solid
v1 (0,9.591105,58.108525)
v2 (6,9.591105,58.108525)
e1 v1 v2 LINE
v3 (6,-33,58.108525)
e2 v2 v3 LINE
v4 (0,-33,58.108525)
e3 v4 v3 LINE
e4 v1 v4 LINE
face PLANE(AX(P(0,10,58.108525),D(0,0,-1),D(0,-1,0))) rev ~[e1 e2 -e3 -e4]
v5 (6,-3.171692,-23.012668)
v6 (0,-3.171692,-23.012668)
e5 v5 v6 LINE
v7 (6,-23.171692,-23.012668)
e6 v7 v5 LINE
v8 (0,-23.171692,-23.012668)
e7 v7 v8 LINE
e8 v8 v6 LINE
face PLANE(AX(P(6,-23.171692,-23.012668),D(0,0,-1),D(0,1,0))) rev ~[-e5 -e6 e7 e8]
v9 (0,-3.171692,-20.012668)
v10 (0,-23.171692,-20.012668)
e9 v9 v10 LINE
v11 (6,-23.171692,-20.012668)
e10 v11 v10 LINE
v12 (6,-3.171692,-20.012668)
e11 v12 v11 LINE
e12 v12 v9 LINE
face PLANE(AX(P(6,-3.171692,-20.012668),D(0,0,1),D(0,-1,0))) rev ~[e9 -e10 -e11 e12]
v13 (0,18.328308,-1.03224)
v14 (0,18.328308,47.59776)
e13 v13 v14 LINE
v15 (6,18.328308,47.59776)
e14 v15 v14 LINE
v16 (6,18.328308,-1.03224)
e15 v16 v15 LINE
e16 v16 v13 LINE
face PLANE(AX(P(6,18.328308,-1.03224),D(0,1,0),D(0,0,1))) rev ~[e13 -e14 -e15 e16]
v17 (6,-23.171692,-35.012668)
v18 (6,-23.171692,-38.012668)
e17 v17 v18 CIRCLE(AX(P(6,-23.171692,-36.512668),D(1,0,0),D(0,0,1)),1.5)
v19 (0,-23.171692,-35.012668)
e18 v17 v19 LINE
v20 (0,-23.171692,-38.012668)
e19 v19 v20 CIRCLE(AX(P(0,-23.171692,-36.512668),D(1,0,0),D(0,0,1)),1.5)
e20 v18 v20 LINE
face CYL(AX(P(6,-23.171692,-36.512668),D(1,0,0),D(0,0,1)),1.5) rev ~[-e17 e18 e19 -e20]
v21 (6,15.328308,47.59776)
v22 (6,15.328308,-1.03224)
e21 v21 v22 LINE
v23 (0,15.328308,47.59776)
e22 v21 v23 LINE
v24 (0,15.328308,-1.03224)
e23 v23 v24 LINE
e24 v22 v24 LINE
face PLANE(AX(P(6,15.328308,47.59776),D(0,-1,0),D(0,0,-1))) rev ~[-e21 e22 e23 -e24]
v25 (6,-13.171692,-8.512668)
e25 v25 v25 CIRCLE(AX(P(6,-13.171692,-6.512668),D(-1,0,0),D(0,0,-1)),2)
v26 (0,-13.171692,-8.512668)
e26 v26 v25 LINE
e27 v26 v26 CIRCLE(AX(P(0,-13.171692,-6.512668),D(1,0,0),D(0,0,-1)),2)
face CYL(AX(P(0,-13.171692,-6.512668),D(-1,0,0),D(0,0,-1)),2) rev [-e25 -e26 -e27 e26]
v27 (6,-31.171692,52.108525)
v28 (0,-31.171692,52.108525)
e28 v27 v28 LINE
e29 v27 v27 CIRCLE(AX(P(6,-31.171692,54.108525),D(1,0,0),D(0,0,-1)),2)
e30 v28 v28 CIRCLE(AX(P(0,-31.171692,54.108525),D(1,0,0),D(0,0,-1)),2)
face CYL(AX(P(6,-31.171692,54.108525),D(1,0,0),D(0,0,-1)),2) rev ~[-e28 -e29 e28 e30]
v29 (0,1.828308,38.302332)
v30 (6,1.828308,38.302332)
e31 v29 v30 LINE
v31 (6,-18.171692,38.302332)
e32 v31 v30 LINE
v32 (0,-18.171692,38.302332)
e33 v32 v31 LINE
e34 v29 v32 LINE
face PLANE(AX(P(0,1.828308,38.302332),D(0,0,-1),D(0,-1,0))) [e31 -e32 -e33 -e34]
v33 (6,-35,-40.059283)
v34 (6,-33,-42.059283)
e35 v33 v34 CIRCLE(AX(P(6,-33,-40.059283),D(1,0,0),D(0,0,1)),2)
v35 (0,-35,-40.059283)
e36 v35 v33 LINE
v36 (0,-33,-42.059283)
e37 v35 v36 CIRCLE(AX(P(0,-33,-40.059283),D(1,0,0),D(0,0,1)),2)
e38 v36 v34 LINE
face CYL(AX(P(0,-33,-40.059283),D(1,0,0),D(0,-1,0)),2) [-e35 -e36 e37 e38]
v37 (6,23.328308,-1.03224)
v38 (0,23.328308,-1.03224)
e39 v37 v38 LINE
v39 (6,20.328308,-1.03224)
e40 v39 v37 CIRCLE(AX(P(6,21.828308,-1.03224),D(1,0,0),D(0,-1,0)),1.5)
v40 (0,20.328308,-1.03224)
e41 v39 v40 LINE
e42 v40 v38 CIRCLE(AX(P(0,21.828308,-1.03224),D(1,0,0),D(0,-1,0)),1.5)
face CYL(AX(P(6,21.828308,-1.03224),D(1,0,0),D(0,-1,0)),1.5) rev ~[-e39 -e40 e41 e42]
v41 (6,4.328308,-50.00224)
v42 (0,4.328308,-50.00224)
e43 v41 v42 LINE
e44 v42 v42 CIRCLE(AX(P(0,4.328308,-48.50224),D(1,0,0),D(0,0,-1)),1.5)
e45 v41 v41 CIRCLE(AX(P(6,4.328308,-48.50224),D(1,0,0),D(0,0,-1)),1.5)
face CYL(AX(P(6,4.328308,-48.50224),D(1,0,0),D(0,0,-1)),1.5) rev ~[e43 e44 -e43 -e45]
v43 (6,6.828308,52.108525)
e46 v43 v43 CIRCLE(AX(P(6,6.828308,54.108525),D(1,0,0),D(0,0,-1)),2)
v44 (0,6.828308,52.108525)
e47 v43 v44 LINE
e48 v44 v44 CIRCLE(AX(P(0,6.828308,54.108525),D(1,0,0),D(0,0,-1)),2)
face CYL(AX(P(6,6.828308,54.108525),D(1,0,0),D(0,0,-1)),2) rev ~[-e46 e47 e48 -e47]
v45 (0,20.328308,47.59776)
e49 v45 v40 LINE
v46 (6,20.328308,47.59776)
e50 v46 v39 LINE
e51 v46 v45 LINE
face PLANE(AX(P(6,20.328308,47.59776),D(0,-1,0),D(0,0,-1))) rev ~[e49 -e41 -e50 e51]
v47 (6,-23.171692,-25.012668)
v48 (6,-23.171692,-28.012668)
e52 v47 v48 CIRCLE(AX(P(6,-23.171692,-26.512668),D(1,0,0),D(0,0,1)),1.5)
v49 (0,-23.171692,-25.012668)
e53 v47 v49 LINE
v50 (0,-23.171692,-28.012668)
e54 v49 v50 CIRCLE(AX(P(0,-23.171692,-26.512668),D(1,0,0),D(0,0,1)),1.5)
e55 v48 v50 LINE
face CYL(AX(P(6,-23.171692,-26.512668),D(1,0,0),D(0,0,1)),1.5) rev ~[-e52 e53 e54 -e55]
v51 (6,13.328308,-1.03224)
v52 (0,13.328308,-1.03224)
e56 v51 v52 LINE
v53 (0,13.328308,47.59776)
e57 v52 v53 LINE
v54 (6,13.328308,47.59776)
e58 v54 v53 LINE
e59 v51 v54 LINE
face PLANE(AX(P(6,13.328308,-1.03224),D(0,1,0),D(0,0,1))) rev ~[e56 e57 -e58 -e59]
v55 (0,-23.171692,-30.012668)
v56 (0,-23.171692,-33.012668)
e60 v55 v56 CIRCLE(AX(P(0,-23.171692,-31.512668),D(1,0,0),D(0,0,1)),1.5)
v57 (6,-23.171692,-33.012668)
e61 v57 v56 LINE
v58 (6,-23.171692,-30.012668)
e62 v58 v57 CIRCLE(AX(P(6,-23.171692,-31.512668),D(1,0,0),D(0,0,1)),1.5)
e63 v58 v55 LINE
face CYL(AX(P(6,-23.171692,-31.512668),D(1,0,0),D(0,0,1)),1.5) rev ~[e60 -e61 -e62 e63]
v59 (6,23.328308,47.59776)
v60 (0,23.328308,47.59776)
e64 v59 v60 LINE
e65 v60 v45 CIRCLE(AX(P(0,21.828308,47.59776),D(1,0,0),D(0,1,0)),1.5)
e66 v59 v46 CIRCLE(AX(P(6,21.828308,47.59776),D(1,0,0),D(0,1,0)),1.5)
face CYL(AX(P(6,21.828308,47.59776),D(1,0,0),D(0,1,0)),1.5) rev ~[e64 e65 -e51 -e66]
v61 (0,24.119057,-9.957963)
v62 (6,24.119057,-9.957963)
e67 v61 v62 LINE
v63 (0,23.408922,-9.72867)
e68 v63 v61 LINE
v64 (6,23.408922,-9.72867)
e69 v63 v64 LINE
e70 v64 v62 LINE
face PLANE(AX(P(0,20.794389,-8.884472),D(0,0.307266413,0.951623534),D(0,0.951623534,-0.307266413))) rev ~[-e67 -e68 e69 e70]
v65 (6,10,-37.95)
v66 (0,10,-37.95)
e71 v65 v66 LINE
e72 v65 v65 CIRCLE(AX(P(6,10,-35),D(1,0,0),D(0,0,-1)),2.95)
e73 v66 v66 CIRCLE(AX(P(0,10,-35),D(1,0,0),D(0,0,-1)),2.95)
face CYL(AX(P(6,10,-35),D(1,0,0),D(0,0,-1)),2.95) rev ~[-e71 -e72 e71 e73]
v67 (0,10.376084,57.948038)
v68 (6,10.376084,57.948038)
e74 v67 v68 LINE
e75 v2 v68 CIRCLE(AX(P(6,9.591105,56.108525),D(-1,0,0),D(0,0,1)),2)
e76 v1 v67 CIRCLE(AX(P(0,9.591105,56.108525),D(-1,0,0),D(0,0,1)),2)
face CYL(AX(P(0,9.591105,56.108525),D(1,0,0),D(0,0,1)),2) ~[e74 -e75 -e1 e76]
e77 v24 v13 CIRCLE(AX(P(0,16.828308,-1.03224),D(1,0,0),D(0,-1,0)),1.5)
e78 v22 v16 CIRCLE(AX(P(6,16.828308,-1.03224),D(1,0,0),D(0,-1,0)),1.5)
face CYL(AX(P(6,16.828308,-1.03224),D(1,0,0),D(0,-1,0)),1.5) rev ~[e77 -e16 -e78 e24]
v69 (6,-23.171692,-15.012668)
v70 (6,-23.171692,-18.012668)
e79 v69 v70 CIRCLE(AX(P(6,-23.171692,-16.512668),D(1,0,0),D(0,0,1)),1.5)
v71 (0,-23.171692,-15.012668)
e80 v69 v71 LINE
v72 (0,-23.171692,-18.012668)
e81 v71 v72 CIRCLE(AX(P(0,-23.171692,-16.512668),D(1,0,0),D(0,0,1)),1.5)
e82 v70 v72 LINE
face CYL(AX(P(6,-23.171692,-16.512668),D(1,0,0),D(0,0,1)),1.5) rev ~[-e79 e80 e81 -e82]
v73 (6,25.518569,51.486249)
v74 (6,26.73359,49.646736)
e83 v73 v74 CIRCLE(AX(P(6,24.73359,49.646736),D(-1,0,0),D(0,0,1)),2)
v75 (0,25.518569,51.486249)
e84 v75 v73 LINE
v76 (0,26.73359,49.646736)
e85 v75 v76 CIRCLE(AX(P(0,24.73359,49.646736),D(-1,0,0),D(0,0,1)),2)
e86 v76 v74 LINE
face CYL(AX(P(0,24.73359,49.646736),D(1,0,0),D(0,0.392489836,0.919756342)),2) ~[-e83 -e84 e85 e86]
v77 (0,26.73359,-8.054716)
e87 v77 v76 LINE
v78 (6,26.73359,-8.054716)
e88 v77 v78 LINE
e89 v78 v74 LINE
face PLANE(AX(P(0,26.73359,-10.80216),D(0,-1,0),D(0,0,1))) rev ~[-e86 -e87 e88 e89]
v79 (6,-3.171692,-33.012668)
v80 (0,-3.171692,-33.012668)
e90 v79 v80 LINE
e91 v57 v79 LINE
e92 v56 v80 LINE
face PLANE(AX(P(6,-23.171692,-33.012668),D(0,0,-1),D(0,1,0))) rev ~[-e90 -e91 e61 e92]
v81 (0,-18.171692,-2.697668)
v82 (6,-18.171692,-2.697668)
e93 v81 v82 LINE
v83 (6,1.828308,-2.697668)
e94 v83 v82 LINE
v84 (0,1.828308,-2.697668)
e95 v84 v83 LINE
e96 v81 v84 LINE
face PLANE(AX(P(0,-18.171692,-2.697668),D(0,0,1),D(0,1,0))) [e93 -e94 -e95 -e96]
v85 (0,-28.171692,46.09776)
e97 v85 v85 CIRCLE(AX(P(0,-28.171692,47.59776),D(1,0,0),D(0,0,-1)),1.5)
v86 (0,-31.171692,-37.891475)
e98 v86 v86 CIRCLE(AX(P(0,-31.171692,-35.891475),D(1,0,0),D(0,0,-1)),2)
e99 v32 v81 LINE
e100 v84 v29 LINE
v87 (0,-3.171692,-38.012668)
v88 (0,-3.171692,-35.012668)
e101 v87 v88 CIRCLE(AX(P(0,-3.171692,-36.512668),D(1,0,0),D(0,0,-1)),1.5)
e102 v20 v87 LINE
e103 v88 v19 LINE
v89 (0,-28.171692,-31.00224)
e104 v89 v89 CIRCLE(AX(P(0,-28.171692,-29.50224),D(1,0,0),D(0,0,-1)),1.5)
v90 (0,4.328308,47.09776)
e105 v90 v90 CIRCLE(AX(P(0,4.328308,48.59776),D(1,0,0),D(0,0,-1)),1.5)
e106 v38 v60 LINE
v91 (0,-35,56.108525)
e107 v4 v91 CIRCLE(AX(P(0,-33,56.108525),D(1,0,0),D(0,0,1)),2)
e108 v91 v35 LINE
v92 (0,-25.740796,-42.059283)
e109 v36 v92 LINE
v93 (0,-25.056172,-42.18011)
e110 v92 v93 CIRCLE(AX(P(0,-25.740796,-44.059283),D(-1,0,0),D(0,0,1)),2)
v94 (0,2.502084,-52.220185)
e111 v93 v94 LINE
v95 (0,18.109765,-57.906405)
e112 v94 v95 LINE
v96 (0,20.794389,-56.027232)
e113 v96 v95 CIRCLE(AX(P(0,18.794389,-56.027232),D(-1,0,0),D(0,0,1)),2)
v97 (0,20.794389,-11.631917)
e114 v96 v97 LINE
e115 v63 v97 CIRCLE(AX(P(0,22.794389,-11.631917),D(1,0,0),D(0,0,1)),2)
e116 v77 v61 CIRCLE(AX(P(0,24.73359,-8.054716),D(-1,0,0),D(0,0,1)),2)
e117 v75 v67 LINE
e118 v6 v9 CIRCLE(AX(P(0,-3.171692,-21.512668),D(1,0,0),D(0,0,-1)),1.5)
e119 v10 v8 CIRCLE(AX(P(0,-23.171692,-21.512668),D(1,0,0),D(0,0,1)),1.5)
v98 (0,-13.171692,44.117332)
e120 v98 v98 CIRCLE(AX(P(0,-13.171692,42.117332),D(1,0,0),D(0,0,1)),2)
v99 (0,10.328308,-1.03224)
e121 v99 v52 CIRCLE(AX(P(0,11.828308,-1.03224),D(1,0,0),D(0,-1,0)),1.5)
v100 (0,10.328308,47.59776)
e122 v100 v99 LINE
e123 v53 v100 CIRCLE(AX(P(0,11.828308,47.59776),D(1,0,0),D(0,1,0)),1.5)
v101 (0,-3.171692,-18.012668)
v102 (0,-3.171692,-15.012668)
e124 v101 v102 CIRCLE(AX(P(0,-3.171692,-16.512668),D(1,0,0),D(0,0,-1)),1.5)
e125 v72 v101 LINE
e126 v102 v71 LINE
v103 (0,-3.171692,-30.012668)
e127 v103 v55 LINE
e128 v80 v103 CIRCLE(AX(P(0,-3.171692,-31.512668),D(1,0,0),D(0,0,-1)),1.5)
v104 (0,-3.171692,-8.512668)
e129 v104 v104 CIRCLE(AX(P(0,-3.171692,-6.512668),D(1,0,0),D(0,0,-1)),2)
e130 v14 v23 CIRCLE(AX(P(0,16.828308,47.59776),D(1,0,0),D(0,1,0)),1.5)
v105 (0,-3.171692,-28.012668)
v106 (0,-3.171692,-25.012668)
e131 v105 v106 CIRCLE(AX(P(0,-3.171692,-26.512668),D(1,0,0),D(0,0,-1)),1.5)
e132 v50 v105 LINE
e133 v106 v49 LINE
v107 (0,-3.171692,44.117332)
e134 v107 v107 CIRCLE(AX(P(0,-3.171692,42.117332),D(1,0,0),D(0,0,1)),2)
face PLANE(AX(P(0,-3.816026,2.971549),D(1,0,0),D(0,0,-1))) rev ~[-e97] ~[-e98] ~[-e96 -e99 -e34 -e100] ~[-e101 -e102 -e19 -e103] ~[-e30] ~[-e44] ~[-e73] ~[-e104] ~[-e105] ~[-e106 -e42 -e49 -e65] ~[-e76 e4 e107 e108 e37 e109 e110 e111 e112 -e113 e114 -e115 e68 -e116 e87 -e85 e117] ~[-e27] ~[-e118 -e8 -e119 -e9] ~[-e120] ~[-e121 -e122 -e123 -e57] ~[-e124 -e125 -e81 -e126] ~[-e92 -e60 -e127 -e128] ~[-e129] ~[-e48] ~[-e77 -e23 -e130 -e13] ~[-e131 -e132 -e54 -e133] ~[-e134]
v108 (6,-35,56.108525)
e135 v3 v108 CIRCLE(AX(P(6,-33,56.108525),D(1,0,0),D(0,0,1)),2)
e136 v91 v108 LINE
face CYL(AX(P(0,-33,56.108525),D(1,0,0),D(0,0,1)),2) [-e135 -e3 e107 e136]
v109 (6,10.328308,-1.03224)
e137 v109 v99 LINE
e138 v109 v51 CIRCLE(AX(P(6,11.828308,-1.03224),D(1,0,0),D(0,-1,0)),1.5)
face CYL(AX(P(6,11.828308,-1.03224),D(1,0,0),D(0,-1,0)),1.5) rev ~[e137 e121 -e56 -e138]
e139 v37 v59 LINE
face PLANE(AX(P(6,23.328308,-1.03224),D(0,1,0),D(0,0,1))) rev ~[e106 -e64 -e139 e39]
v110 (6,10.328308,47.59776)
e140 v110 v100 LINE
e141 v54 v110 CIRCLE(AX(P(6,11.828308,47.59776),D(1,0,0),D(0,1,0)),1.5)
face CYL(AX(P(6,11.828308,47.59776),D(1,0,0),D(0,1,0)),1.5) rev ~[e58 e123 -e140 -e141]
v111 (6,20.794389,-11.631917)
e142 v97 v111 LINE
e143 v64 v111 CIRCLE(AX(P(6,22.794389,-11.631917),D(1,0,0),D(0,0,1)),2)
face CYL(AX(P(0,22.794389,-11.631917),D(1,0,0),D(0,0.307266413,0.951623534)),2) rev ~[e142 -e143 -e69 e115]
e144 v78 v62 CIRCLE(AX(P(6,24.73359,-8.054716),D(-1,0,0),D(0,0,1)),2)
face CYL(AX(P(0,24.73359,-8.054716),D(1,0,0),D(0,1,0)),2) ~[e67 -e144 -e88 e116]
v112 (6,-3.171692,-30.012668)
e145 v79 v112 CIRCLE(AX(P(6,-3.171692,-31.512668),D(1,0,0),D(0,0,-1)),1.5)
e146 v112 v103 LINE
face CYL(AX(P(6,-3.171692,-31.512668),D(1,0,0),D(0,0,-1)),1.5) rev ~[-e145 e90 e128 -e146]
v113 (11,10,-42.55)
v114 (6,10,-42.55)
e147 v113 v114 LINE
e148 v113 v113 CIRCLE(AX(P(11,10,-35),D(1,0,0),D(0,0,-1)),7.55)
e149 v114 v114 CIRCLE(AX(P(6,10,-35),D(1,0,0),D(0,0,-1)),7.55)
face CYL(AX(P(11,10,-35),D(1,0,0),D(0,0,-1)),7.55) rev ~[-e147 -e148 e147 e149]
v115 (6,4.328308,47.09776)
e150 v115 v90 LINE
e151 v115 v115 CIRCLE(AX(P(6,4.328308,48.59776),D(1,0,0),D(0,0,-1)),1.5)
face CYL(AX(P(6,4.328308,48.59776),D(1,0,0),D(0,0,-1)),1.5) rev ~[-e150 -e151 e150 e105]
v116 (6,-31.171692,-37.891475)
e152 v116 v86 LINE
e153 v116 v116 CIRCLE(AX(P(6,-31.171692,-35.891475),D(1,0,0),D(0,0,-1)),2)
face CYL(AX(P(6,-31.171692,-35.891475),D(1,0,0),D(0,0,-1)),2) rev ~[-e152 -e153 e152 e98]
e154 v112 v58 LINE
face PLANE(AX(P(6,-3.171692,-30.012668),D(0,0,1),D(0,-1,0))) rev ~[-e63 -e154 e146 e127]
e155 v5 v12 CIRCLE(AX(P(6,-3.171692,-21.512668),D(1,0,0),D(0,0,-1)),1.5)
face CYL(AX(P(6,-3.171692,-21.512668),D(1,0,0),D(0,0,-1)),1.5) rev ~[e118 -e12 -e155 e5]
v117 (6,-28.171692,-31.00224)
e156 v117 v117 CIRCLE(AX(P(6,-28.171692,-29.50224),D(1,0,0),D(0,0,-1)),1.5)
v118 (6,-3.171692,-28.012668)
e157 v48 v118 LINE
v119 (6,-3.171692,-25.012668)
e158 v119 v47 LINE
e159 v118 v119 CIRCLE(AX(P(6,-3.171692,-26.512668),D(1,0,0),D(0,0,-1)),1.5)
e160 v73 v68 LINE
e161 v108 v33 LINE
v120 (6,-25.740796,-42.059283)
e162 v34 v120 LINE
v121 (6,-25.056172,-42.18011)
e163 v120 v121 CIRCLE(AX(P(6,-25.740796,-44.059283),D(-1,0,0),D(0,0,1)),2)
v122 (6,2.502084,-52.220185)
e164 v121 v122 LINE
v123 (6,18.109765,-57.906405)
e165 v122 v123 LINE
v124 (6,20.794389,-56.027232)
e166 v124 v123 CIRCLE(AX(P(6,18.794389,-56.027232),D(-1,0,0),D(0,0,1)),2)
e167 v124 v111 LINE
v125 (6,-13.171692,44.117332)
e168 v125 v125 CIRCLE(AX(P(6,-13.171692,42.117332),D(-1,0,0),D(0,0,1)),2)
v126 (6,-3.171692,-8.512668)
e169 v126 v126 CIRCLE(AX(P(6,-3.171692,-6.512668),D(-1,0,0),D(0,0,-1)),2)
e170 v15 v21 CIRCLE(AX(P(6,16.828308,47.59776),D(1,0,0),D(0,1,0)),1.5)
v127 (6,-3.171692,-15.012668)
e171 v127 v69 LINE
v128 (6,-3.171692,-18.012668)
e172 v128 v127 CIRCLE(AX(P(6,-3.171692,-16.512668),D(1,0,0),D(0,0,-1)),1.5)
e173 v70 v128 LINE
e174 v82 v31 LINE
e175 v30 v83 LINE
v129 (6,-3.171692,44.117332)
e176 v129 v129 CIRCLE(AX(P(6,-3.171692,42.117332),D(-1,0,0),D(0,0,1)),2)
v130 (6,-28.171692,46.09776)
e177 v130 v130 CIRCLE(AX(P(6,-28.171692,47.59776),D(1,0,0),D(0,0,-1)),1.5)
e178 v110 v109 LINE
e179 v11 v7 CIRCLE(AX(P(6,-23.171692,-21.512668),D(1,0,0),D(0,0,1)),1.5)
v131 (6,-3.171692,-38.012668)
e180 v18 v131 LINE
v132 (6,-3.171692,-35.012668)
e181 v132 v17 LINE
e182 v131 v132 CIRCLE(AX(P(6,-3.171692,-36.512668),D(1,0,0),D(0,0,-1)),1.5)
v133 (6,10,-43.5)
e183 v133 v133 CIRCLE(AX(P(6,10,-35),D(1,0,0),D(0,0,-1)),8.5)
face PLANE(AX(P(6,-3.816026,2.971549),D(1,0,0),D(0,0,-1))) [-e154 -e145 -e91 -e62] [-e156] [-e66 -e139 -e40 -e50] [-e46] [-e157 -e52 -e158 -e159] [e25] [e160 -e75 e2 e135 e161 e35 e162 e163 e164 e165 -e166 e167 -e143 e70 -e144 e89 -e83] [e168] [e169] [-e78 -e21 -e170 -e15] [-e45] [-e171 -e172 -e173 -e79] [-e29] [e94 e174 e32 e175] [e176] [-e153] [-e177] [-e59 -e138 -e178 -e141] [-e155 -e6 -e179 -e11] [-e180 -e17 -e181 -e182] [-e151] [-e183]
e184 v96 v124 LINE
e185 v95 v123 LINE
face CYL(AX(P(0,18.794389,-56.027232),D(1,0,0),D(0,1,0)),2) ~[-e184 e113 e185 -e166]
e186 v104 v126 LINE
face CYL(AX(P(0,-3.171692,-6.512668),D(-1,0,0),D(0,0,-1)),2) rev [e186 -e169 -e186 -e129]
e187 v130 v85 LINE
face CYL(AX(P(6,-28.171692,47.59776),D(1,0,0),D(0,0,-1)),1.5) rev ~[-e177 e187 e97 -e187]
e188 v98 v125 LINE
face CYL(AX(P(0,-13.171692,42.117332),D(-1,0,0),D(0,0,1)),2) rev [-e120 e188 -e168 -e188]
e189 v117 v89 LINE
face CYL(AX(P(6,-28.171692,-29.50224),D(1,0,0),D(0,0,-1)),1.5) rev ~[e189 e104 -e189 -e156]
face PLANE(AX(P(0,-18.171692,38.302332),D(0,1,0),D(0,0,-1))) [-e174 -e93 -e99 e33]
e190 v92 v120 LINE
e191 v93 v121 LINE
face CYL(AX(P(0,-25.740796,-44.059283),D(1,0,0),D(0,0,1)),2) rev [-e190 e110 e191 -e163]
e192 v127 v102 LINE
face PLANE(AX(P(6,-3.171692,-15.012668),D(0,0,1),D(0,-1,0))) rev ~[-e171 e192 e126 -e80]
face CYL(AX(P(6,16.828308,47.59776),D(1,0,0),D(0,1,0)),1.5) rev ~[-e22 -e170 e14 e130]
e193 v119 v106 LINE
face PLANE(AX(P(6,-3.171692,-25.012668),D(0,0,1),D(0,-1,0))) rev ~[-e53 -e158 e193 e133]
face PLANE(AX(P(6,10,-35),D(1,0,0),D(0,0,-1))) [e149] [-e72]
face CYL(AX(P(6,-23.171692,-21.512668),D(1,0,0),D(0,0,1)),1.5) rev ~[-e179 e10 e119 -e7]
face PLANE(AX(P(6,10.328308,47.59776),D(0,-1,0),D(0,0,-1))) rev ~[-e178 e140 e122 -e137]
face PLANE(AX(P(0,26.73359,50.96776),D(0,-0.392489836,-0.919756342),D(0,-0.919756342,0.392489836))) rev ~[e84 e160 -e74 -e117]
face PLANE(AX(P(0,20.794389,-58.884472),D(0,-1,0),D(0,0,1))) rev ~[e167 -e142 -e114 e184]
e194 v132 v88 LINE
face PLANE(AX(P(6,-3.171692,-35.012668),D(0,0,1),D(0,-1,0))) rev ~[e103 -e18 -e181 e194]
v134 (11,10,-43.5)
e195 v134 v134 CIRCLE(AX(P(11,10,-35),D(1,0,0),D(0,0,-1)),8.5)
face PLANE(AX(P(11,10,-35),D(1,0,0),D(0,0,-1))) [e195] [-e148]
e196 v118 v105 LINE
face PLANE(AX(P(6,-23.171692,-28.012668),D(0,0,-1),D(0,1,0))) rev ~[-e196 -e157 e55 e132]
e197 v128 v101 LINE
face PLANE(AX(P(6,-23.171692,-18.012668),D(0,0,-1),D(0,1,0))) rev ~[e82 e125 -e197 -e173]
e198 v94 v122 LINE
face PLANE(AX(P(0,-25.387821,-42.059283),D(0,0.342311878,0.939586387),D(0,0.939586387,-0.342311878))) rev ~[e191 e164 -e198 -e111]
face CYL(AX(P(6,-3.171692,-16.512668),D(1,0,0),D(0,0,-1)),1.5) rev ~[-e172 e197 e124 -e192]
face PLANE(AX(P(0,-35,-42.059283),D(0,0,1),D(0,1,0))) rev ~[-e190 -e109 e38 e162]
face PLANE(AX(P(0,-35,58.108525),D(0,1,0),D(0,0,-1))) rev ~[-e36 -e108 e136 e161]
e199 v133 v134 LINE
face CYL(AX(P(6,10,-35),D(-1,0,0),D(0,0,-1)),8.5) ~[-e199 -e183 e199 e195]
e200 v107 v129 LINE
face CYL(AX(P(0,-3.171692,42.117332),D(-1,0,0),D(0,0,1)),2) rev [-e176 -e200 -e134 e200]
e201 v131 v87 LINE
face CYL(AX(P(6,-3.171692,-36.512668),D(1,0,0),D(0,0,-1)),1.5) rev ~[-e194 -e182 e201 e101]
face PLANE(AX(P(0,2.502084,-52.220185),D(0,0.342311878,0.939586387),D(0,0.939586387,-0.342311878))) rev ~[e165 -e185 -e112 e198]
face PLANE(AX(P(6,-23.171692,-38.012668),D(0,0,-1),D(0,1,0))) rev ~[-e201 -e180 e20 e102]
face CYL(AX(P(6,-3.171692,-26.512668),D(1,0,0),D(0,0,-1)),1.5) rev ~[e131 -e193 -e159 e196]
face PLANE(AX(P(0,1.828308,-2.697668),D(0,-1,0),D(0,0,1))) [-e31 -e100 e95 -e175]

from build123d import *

# Parameters (mm, degrees)
EXTRUDE_1_DEPTH     = 6
SKETCH_2_R          = 2
CUT_EXTRUDE_1_DEPTH = 10
SKETCH_4_R          = 1.5
CUT_EXTRUDE_2_DEPTH = 6
SKETCH_7_R          = 2
SKETCH_7_R_2        = 1.5
CUT_EXTRUDE_3_DEPTH = 6
SKETCH_5_R          = 8.5
EXTRUDE_4_DEPTH     = 5
SKETCH_14_R         = 7.55
CUT_EXTRUDE_8_DEPTH = 5
SKETCH_15_R         = 2.95
CUT_EXTRUDE_9_DEPTH = 6
FILLET_1_R          = 2


with BuildPart() as part:
    # 草图1 → 凸台-拉伸1 (new body)
    with BuildSketch(Plane(origin=(0, 0, 0), x_dir=(0, 0, -1), z_dir=(1, 0, 0))):
        Polygon((-58.108525398, 10), (-58.108525398, -35), (42.059282617, -35), (42.059282617, -30.677521513), (42.059282617, -25.387821403), (52.220185328, 2.502083897), (58.88447221, 20.794388757), (53.88447221, 20.794388757), (8.88447221, 20.794388757), (10.802160114, 26.733589605), (-8.108525398, 26.733589605), (-50.96776046, 26.733589605), align=None)
    extrude(amount=EXTRUDE_1_DEPTH)

    # 草图2 → 切除-拉伸1 (cut)
    with BuildSketch(Plane(origin=(0, 0, 0), x_dir=(0, 0, -1), z_dir=(1, 0, 0))):
        with Locations((6.512667985, -3.171691559)):
            Circle(SKETCH_2_R)
        with Locations((6.512667985, -13.171691559)):
            Circle(SKETCH_2_R)
        with Locations(Location((-42.117332015, -13.171691559, 0), (0, 0, 180))):
            Circle(SKETCH_2_R)
        with Locations(Location((-42.117332015, -3.171691559, 0), (0, 0, 180))):
            Circle(SKETCH_2_R)
        Polygon((-17.802332015, 1.828308441), (-38.302332015, 1.828308441), (-38.302332015, -18.171691559), (-17.802332015, -18.171691559), (2.697667985, -18.171691559), (2.697667985, 1.828308441), align=None)
    extrude(amount=CUT_EXTRUDE_1_DEPTH, mode=Mode.SUBTRACT)

    # 草图4 → 切除-拉伸2 (cut)
    with BuildSketch(Plane(origin=(6, 0, 0), x_dir=(0, 0, -1), z_dir=(1, 0, 0))):
        with Locations((-48.59776046, 4.328308441)):
            Circle(SKETCH_4_R)
        with Locations((48.50223954, 4.328308441)):
            Circle(SKETCH_4_R)
    extrude(amount=-CUT_EXTRUDE_2_DEPTH, mode=Mode.SUBTRACT)

    # 草图7 → 切除-拉伸3 (cut)
    with BuildSketch(Plane(origin=(6, 0, 0), x_dir=(0, 0, -1), z_dir=(1, 0, 0))):
        with Locations((-54.108525398, 6.828308441)):
            Circle(SKETCH_7_R)
        with Locations((35.891474602, -31.171691559)):
            Circle(SKETCH_7_R)
        with Locations((-54.108525398, -31.171691559)):
            Circle(SKETCH_7_R)
        with BuildLine():
            ThreePointArc((18.012667985, -3.171691559), (16.512667985, -1.671691559), (15.012667985, -3.171691559))
            Line((15.012667985, -3.171691559), (15.012667985, -23.171691559))
            ThreePointArc((15.012667985, -23.171691559), (16.512667985, -24.671691559), (18.012667985, -23.171691559))
            Line((18.012667985, -23.171691559), (18.012667985, -3.171691559))
        make_face()
        with BuildLine():
            Line((1.03223954, 18.328308441), (-47.59776046, 18.328308441))
            ThreePointArc((-47.59776046, 18.328308441), (-49.09776046, 16.828308441), (-47.59776046, 15.328308441))
            Line((-47.59776046, 15.328308441), (1.03223954, 15.328308441))
            ThreePointArc((1.03223954, 15.328308441), (2.53223954, 16.828308441), (1.03223954, 18.328308441))
        make_face()
        with BuildLine():
            Line((1.03223954, 23.328308441), (-47.59776046, 23.328308441))
            ThreePointArc((-47.59776046, 23.328308441), (-49.09776046, 21.828308441), (-47.59776046, 20.328308441))
            Line((-47.59776046, 20.328308441), (1.03223954, 20.328308441))
            ThreePointArc((1.03223954, 20.328308441), (2.53223954, 21.828308441), (1.03223954, 23.328308441))
        make_face()
        with BuildLine():
            Line((1.03223954, 13.328308441), (-47.59776046, 13.328308441))
            ThreePointArc((-47.59776046, 13.328308441), (-49.09776046, 11.828308441), (-47.59776046, 10.328308441))
            Line((-47.59776046, 10.328308441), (1.03223954, 10.328308441))
            ThreePointArc((1.03223954, 10.328308441), (2.53223954, 11.828308441), (1.03223954, 13.328308441))
        make_face()
        with BuildLine():
            ThreePointArc((38.012667985, -3.171691559), (36.512667985, -1.671691559), (35.012667985, -3.171691559))
            Line((35.012667985, -3.171691559), (35.012667985, -23.171691559))
            ThreePointArc((35.012667985, -23.171691559), (36.512667985, -24.671691559), (38.012667985, -23.171691559))
            Line((38.012667985, -23.171691559), (38.012667985, -3.171691559))
        make_face()
        with BuildLine():
            ThreePointArc((23.012667985, -3.171691559), (21.512667985, -1.671691559), (20.012667985, -3.171691559))
            Line((20.012667985, -3.171691559), (20.012667985, -23.171691559))
            ThreePointArc((20.012667985, -23.171691559), (21.512667985, -24.671691559), (23.012667985, -23.171691559))
            Line((23.012667985, -23.171691559), (23.012667985, -3.171691559))
        make_face()
        with BuildLine():
            ThreePointArc((28.012667985, -3.171691559), (26.512667985, -1.671691559), (25.012667985, -3.171691559))
            Line((25.012667985, -3.171691559), (25.012667985, -23.171691559))
            ThreePointArc((25.012667985, -23.171691559), (26.512667985, -24.671691559), (28.012667985, -23.171691559))
            Line((28.012667985, -23.171691559), (28.012667985, -3.171691559))
        make_face()
        with BuildLine():
            ThreePointArc((33.012667985, -3.171691559), (31.512667985, -1.671691559), (30.012667985, -3.171691559))
            Line((30.012667985, -3.171691559), (30.012667985, -23.171691559))
            ThreePointArc((30.012667985, -23.171691559), (31.512667985, -24.671691559), (33.012667985, -23.171691559))
            Line((33.012667985, -23.171691559), (33.012667985, -3.171691559))
        make_face()
        with Locations((-47.59776046, -28.171691559)):
            Circle(SKETCH_7_R_2)
        with Locations((29.50223954, -28.171691559)):
            Circle(SKETCH_7_R_2)
    extrude(amount=-CUT_EXTRUDE_3_DEPTH, mode=Mode.SUBTRACT)

    # 草图5 → 凸台-拉伸4 (add)
    with BuildSketch(Plane(origin=(6, 0, 0), x_dir=(0, 0, -1), z_dir=(1, 0, 0))):
        with Locations((35, 10)):
            Circle(SKETCH_5_R)
    extrude(amount=EXTRUDE_4_DEPTH)

    # 草图14 → 切除-拉伸8 (cut)
    with BuildSketch(Plane(origin=(11, 0, 0), x_dir=(0, 0, -1), z_dir=(1, 0, 0))):
        with Locations((35, 10)):
            Circle(SKETCH_14_R)
    extrude(amount=-CUT_EXTRUDE_8_DEPTH, mode=Mode.SUBTRACT)

    # 草图15 → 切除-拉伸9 (cut)
    with BuildSketch(Plane(origin=(6, 0, 0), x_dir=(0, 0, -1), z_dir=(1, 0, 0))):
        with Locations((35, 10)):
            Circle(SKETCH_15_R)
    extrude(amount=-CUT_EXTRUDE_9_DEPTH, mode=Mode.SUBTRACT)

    # 圆角1
    fillet_1_edges = [part.edges().sort_by_distance(p)[0] for p in [
        (3, 10, 58.108525398),
        (3, 26.733589605, 50.96776046),
        (3, 26.733589605, -10.802160114),
        (3, 20.794388757, -8.88447221),
        (3, 20.794388757, -58.88447221),
        (3, -25.387821403, -42.059282617),
        (3, -35, -42.059282617),
        (3, -35, 58.108525398),
    ]]
    fillet(fillet_1_edges, radius=FILLET_1_R)


solid = part.part
